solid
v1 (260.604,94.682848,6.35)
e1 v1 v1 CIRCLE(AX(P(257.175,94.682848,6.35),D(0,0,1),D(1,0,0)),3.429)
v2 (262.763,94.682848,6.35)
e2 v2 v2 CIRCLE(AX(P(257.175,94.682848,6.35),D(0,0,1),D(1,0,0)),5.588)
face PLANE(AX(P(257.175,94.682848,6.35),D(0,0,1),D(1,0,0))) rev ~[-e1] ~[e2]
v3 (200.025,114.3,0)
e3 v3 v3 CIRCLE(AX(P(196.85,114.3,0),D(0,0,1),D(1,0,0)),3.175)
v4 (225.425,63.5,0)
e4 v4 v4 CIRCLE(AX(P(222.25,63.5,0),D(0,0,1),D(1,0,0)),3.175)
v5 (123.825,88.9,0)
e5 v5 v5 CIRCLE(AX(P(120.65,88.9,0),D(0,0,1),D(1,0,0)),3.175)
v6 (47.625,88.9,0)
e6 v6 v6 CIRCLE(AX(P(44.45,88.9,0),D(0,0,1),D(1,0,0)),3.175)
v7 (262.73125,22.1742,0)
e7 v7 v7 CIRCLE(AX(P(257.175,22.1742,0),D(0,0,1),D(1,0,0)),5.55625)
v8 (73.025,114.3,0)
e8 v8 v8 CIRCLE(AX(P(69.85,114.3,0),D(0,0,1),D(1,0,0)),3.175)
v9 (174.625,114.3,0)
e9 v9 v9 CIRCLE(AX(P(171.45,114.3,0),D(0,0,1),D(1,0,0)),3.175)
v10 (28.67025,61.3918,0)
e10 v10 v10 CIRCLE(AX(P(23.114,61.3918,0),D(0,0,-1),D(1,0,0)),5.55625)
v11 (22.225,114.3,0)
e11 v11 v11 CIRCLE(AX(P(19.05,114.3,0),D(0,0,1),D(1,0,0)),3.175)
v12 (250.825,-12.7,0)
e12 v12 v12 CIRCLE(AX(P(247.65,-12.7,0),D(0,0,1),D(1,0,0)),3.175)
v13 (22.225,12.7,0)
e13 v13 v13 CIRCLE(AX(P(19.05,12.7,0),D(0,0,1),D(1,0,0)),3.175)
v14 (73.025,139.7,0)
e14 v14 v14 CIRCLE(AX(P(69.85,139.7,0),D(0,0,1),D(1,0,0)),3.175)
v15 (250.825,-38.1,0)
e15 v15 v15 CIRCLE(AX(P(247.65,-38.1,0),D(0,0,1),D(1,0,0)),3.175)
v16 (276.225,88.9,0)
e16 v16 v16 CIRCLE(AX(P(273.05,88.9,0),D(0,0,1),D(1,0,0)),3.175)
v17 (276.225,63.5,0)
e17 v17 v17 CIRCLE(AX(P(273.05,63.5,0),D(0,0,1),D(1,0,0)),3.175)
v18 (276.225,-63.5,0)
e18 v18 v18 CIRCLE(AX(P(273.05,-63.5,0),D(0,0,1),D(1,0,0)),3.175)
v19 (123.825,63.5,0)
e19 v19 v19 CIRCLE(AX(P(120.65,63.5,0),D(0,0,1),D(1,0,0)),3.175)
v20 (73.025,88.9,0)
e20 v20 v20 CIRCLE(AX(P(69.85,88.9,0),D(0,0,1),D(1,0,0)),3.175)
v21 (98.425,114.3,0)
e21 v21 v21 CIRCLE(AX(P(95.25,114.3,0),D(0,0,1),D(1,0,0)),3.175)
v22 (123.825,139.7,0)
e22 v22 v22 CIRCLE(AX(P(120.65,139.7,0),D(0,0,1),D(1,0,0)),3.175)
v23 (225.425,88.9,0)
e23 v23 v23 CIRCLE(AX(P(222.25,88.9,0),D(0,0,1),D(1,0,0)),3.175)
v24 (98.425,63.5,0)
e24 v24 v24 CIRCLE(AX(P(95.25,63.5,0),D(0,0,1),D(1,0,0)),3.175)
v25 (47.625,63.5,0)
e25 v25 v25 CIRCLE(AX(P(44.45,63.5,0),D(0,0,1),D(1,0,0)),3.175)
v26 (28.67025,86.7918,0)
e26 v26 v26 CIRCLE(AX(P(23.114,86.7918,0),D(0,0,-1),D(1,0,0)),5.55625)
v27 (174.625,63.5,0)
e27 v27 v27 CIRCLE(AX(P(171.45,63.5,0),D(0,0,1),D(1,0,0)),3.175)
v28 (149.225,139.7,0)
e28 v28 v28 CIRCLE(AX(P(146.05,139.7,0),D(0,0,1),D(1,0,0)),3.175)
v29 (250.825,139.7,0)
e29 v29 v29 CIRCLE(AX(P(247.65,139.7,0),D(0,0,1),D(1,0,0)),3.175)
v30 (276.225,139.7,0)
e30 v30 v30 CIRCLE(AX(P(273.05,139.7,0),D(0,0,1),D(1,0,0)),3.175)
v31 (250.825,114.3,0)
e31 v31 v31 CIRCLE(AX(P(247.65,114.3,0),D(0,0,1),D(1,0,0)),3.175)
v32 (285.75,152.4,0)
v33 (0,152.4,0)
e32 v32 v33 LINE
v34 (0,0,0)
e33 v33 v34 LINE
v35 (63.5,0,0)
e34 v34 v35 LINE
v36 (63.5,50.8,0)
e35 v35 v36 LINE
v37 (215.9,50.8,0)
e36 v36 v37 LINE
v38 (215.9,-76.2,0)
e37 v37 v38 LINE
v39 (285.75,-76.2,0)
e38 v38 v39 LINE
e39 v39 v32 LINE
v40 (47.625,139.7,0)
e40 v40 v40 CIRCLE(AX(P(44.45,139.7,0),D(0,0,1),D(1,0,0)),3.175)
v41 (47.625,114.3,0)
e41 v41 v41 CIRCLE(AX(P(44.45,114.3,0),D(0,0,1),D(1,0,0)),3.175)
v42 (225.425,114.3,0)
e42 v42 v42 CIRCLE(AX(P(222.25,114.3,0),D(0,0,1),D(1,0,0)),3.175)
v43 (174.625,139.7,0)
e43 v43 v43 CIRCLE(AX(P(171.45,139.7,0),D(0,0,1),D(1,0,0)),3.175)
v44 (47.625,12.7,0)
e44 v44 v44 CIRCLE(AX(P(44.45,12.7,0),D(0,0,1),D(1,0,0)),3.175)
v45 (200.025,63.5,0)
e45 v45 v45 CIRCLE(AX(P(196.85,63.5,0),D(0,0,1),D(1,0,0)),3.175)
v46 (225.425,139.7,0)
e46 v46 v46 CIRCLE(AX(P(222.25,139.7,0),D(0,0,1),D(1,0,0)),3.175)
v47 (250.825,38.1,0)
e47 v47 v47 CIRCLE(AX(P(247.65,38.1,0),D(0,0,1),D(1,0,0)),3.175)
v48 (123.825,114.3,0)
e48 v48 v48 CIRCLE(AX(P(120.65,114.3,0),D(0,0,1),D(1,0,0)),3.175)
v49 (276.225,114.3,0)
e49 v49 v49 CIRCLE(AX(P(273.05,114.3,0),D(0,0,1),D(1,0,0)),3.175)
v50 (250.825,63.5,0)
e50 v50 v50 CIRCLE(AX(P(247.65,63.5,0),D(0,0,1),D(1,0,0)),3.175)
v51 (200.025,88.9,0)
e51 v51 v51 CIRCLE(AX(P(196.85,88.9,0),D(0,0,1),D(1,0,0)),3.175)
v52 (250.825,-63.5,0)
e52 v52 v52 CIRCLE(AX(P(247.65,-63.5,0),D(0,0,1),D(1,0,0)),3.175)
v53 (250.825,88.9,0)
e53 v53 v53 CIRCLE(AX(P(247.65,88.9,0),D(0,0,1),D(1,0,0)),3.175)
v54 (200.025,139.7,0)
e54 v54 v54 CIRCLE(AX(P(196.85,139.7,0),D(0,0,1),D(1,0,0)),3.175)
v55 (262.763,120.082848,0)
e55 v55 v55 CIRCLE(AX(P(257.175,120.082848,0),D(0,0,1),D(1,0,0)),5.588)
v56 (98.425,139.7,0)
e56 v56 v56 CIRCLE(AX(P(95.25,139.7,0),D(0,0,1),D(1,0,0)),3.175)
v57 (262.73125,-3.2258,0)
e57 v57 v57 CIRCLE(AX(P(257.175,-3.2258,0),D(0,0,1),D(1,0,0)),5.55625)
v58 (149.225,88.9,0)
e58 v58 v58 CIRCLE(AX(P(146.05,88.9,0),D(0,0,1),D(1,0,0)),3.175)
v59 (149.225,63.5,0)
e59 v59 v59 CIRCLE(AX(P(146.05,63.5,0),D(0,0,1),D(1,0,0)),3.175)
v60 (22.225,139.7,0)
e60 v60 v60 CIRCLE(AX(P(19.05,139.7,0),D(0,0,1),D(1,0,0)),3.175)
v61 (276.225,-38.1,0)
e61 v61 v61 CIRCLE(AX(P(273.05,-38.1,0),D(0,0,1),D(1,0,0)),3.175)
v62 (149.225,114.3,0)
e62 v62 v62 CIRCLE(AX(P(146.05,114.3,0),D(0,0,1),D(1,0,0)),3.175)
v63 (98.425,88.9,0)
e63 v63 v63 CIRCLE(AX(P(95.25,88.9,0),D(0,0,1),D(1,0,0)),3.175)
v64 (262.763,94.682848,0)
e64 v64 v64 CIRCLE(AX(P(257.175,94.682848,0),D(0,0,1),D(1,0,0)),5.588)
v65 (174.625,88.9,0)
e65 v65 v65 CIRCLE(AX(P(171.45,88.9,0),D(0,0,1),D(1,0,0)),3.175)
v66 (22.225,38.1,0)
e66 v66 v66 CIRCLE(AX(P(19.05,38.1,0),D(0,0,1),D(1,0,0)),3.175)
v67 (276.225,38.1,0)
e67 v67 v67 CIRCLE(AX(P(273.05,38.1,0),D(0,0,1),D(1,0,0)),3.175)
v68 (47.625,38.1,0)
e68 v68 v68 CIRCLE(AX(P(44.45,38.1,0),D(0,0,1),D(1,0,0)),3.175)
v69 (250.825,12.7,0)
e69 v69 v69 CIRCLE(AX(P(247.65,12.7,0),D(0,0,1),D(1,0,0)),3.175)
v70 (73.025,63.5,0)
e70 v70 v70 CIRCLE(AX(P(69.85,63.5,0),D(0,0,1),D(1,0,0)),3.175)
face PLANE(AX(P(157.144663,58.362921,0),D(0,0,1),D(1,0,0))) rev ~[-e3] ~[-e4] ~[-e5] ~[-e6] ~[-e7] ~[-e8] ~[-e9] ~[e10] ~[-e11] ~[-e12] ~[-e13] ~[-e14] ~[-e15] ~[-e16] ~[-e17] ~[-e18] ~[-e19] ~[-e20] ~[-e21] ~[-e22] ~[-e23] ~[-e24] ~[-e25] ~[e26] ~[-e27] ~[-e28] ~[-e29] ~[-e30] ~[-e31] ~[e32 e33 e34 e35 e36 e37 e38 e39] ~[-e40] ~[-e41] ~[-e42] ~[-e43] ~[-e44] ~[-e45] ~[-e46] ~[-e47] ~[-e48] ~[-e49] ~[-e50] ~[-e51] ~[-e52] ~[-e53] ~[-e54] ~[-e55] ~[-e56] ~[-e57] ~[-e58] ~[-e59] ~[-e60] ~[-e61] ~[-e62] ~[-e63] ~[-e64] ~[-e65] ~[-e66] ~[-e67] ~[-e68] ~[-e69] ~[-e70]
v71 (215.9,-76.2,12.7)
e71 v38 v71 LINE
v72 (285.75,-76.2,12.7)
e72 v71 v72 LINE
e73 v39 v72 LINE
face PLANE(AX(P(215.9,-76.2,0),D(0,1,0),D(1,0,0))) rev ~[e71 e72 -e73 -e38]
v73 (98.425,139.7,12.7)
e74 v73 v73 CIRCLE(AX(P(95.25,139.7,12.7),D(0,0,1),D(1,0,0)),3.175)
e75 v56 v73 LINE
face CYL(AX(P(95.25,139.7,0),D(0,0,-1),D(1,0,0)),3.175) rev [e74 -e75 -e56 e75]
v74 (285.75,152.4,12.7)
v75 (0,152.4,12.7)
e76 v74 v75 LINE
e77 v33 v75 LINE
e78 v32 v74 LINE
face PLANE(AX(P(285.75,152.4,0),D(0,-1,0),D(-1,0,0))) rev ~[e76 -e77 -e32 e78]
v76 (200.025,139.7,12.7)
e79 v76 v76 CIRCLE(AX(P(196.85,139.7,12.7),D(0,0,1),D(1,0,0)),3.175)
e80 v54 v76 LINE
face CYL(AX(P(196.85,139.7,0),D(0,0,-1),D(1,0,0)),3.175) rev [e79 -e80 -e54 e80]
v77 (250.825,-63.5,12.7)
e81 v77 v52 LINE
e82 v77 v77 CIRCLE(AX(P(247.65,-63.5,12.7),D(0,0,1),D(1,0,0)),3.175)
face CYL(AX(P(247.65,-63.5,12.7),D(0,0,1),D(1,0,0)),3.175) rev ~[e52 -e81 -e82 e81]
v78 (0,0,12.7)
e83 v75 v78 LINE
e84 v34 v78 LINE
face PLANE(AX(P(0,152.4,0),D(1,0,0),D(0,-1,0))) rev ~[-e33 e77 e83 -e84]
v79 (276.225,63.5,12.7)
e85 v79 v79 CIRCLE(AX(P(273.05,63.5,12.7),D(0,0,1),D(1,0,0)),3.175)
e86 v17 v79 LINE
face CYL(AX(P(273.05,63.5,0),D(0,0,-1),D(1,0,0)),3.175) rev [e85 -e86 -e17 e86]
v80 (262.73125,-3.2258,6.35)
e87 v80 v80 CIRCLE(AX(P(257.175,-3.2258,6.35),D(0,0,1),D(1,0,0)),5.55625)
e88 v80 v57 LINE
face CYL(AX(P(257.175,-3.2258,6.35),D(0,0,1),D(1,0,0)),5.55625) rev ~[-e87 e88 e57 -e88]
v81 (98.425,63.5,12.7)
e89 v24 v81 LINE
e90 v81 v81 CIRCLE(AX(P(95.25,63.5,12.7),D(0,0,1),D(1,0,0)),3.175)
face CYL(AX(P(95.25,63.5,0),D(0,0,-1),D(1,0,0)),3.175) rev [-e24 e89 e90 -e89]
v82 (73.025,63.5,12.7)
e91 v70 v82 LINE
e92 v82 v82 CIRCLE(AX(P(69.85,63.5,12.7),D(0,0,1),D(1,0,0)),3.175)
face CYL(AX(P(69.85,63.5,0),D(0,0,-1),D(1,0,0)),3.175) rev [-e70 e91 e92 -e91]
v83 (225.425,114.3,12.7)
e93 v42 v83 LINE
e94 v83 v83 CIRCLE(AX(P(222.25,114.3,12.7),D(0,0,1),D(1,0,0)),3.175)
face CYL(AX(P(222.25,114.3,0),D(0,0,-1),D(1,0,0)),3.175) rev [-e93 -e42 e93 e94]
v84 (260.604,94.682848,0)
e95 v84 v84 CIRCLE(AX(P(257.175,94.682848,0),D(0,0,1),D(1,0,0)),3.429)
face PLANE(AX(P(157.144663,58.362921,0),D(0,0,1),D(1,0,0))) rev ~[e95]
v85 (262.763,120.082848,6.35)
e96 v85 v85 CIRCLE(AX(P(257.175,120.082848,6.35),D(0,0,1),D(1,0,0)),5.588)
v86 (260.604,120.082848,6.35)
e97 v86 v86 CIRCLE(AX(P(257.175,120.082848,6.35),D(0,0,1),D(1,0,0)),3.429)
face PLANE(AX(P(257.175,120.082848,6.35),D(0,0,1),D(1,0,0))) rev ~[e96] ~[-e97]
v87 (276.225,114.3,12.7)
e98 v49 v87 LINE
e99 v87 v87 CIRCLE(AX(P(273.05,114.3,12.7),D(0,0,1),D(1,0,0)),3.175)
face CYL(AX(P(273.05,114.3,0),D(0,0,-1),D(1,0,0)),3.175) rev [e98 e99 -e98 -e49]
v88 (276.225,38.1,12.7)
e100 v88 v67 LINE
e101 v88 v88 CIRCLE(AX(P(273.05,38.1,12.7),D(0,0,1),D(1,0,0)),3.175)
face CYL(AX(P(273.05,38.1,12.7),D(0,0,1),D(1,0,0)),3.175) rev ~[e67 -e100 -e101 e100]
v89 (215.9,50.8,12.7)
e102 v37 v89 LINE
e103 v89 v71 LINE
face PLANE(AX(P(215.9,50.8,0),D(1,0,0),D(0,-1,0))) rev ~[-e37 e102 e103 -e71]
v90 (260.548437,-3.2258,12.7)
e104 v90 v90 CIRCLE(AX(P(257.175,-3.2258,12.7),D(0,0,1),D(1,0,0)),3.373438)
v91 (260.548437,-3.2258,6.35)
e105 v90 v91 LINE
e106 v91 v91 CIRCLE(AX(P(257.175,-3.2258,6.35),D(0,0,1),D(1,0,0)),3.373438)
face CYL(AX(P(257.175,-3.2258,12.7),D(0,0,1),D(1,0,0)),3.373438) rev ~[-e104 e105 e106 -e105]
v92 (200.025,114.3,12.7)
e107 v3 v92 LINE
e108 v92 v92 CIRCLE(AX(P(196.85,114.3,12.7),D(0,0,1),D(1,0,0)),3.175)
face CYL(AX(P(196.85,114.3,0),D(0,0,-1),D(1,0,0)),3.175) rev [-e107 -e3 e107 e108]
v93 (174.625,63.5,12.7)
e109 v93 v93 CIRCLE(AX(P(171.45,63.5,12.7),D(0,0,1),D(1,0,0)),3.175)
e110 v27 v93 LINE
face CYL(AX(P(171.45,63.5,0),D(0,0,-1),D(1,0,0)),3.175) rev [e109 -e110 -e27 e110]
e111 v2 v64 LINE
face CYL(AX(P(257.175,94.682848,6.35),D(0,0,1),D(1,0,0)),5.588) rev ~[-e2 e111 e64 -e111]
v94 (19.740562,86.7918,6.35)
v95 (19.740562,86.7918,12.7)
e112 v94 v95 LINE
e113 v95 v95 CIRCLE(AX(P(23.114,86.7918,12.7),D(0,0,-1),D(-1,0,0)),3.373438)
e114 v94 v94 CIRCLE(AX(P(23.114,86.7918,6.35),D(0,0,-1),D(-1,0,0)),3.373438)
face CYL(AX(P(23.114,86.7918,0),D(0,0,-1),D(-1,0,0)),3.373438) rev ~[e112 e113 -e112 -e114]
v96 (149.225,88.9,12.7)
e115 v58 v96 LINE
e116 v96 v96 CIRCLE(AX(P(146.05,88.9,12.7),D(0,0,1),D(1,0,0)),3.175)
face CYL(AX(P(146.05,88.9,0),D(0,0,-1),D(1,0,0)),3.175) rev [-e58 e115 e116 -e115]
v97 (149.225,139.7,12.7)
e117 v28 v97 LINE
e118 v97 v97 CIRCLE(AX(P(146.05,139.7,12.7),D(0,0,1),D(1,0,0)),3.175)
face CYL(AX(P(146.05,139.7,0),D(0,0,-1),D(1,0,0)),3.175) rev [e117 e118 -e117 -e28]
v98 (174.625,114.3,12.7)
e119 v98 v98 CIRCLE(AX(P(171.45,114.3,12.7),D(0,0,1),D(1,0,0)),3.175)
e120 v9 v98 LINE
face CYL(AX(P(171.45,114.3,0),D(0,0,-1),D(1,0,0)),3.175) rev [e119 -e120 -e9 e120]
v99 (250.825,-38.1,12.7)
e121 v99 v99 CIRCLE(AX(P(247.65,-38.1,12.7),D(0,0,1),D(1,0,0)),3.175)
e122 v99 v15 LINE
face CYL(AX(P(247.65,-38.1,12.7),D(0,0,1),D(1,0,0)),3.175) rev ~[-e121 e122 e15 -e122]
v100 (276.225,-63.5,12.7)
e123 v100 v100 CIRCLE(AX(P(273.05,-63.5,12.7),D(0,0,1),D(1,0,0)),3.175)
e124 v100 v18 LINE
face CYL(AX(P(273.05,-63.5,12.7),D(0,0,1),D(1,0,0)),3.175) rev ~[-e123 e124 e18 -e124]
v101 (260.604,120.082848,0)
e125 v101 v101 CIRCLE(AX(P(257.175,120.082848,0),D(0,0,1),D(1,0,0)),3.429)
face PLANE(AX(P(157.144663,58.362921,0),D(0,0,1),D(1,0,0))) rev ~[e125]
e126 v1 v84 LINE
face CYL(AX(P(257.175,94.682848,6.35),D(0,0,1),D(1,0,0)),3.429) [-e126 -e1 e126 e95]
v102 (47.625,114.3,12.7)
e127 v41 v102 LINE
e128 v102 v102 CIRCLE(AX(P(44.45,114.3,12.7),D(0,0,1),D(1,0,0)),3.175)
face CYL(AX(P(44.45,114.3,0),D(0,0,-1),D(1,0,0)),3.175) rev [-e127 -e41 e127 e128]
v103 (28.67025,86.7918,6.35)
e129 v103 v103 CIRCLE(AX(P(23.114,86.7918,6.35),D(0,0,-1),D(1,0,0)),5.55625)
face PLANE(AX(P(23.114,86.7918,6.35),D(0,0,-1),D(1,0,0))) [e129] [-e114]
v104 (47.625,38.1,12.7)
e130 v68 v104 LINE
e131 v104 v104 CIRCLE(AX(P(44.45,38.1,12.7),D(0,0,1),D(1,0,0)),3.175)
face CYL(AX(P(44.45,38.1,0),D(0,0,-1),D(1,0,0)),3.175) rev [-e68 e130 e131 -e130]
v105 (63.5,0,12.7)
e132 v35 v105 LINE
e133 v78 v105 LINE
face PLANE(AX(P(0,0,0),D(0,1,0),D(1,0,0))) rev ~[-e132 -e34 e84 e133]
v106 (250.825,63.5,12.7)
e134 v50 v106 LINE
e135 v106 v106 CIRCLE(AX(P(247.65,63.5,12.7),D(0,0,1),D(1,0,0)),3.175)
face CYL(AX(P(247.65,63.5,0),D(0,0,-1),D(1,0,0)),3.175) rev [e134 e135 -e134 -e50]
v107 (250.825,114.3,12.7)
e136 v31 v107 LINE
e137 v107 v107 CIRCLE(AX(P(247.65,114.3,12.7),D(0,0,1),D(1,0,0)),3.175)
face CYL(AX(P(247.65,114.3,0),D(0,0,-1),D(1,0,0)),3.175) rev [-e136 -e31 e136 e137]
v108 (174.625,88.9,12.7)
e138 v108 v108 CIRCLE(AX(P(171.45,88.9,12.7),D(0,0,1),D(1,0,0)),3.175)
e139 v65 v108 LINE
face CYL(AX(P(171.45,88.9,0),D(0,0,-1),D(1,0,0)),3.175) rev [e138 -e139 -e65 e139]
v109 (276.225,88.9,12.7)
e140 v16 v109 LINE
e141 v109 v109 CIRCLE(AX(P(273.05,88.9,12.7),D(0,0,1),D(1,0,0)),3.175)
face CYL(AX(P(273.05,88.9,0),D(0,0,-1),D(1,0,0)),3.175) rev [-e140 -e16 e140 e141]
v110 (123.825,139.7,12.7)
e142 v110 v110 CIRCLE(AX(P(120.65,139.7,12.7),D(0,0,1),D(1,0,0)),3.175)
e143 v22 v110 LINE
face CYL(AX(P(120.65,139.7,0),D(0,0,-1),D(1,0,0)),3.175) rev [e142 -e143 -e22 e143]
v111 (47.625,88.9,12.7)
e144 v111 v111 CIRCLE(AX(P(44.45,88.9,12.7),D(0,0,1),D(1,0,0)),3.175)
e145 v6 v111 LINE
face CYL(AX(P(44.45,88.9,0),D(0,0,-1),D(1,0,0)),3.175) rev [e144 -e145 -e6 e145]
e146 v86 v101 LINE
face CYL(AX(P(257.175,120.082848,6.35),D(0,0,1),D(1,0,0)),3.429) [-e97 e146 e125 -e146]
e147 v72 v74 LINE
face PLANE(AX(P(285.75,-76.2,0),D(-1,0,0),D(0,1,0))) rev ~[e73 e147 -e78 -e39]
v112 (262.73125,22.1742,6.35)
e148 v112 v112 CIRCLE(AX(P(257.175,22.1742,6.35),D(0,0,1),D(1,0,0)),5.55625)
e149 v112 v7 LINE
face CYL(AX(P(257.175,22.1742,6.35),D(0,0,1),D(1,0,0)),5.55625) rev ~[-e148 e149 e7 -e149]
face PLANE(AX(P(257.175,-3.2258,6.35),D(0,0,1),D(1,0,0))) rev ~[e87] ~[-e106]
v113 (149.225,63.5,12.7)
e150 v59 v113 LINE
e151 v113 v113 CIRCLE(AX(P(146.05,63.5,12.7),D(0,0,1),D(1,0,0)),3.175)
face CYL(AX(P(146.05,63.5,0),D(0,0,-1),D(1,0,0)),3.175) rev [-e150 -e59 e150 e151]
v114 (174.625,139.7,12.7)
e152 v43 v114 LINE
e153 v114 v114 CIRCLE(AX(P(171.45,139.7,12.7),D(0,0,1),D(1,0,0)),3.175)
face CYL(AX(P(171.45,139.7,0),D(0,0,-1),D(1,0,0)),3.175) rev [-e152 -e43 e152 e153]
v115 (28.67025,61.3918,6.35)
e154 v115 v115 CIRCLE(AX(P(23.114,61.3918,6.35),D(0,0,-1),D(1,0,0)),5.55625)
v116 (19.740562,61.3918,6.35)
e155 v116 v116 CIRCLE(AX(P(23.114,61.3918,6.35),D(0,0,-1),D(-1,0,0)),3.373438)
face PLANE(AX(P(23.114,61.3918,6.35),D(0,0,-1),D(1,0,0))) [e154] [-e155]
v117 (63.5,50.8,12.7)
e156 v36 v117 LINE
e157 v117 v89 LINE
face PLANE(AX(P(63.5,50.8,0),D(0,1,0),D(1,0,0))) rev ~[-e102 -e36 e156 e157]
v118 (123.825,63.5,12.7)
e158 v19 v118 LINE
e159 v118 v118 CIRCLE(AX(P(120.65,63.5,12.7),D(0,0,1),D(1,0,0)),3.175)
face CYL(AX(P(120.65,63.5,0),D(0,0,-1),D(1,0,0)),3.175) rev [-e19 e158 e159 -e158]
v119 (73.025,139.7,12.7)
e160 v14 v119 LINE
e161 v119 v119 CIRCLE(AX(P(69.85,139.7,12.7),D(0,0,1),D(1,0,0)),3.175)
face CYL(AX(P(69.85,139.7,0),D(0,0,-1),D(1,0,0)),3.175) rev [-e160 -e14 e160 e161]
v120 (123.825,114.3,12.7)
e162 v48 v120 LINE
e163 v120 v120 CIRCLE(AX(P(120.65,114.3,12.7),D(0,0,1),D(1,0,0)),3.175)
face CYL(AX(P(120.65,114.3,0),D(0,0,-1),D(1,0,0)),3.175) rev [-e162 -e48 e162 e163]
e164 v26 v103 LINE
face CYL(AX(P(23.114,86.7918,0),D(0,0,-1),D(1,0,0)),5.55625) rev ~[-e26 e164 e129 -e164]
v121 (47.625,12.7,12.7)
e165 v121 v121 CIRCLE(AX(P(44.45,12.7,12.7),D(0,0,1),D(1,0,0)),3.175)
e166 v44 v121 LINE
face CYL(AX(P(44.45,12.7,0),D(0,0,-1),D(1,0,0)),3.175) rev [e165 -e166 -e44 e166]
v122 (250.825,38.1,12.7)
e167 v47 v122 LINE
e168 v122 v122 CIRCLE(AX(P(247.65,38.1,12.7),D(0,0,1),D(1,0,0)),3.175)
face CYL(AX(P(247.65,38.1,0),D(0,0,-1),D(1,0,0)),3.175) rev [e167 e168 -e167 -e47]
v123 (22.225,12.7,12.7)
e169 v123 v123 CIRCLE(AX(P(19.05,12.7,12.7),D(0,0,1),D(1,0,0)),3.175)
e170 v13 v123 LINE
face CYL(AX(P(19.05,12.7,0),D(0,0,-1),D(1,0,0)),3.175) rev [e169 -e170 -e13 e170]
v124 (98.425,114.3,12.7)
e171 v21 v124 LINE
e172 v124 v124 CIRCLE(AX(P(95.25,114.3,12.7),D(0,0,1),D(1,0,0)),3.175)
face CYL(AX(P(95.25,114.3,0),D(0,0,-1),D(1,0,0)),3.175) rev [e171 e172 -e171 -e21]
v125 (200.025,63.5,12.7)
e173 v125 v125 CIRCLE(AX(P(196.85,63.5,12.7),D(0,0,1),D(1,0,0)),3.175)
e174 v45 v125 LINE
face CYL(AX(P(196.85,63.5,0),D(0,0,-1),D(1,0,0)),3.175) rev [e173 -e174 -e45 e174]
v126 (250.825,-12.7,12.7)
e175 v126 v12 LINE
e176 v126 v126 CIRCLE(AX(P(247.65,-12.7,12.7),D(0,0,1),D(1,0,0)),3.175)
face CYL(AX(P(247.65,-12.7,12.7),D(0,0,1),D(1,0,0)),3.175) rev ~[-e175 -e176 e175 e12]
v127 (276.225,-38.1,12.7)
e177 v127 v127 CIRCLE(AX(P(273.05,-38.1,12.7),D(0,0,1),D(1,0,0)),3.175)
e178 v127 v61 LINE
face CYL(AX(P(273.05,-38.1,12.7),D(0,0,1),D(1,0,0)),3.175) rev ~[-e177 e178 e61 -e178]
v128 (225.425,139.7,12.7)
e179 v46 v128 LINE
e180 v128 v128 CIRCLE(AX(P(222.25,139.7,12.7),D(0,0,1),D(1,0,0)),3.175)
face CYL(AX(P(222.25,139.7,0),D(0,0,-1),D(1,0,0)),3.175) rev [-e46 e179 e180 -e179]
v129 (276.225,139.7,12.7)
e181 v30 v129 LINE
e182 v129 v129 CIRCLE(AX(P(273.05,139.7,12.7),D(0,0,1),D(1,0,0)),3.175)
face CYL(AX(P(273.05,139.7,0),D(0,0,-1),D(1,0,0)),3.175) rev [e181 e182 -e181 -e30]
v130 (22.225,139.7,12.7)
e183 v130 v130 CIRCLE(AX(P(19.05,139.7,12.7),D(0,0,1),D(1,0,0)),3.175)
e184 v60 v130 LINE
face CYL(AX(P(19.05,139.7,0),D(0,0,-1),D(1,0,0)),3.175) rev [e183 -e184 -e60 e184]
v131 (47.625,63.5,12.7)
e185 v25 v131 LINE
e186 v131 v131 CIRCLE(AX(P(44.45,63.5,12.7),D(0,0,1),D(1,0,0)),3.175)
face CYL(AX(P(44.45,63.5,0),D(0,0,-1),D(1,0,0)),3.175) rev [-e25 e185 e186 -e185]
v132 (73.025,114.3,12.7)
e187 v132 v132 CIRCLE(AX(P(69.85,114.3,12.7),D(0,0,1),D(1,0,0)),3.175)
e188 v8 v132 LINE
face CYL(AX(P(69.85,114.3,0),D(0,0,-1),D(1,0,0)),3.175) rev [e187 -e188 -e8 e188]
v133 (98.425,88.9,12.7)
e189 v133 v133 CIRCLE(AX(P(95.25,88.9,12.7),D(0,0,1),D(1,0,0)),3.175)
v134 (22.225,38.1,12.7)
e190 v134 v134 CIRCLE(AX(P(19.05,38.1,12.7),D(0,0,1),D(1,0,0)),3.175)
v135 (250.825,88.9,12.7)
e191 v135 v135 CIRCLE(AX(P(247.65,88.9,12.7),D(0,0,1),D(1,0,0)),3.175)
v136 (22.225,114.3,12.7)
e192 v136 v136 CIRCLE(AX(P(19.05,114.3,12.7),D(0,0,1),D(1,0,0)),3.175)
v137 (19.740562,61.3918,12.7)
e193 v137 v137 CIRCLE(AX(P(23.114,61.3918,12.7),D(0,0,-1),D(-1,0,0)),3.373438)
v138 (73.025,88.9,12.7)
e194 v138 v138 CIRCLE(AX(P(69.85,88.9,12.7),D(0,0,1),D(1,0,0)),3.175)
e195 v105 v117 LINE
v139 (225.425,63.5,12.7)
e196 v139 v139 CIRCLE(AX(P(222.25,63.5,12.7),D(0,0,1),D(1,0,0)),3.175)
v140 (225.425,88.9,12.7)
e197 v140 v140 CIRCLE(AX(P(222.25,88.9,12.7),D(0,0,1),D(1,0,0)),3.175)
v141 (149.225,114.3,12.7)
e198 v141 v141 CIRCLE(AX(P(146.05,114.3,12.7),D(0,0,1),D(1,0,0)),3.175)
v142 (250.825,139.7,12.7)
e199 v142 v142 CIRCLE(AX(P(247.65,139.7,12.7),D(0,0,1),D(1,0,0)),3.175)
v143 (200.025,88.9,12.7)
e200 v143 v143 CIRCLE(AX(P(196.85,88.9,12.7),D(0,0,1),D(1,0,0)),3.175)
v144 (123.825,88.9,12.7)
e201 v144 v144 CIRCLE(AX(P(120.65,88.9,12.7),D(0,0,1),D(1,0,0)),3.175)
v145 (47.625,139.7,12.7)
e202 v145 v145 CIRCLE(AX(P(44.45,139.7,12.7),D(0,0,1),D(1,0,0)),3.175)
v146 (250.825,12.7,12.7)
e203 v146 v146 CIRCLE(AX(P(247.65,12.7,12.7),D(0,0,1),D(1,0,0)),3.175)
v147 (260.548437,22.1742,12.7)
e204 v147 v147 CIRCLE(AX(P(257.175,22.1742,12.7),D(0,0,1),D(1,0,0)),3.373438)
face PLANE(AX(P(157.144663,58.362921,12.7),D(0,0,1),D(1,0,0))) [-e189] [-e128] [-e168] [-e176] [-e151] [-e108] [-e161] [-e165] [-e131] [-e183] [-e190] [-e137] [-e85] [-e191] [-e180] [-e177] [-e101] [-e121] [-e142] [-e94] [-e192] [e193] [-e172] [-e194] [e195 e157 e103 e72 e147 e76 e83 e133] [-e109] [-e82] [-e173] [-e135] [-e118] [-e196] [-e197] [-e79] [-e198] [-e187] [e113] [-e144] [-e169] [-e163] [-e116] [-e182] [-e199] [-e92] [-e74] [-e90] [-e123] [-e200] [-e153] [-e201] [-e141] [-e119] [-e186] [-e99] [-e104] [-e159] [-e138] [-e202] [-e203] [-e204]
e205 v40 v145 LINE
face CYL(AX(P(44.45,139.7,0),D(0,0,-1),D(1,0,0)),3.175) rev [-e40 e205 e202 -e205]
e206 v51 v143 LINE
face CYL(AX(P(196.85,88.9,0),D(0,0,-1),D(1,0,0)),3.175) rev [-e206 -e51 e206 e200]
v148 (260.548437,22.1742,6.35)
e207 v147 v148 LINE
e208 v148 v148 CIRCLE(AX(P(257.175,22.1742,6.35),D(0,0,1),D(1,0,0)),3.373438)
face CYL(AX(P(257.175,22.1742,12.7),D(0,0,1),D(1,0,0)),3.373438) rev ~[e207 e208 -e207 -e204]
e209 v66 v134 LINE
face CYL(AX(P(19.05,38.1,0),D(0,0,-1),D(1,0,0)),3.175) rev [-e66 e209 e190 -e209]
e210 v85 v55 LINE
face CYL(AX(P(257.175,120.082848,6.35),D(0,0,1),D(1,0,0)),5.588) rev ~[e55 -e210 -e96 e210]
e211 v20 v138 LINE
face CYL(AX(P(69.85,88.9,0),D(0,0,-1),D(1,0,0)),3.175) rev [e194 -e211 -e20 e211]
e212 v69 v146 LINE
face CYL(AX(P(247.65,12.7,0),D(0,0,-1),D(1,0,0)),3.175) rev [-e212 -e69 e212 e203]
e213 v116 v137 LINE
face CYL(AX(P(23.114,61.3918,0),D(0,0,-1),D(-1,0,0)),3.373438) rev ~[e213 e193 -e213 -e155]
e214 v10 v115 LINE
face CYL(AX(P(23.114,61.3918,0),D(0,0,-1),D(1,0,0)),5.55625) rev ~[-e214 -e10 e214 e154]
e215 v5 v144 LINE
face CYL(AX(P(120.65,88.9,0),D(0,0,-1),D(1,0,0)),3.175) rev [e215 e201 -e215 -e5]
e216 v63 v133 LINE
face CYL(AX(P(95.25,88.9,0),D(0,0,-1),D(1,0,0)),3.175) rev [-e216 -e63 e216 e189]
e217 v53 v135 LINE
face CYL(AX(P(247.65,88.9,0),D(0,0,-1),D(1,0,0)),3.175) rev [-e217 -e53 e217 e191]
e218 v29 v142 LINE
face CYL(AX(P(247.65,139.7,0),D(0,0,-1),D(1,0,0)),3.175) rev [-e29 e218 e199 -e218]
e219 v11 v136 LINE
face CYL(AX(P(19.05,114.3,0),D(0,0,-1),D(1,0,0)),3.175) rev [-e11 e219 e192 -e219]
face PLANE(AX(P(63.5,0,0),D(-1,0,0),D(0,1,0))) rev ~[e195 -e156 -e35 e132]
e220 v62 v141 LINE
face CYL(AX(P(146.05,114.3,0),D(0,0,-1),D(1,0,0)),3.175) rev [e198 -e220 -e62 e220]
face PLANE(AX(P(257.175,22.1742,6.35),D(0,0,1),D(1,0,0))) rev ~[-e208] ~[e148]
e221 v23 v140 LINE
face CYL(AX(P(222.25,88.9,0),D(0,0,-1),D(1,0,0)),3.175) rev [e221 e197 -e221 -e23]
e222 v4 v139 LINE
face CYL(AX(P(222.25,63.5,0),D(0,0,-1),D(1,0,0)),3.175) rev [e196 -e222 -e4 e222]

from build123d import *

# Parameters (mm, degrees)
SKETCH1_R           = 3.175
BOSS_EXTRUDE1_DEPTH = 12.7
SKETCH2_R           = 3.175
CUT_EXTRUDE1_DEPTH  = 12.7
SKETCH3_R           = 3.3734375
CUT_EXTRUDE2_DEPTH  = 12.7
CUT_EXTRUDE3_START  = -6.35
SKETCH3_3_R         = 5.55625
SKETCH3_3_R_2       = 3.3734375
SKETCH3_3_R_3       = 5.588
SKETCH3_3_R_4       = 3.429
CUT_EXTRUDE3_DEPTH  = 6.35
SKETCH5_R           = 3.3734375
CUT_EXTRUDE4_DEPTH  = 12.7
SKETCH5_3_R         = 5.55625
SKETCH5_3_R_2       = 3.3734375
CUT_EXTRUDE5_DEPTH  = 6.35


with BuildPart() as part:
    # Sketch1 → Boss-Extrude1 (new body)
    with BuildSketch(Plane.XY):
        Polygon((0, 152.4), (0, 0), (63.5, 0), (63.5, 50.8), (215.9, 50.8), (215.9, -76.2), (285.75, -76.2), (285.75, 152.4), align=None)
        with Locations((19.05, 12.7)):
            Circle(SKETCH1_R, mode=Mode.SUBTRACT)
        with Locations((19.05, 38.1)):
            Circle(SKETCH1_R, mode=Mode.SUBTRACT)
        with Locations((44.45, 12.7)):
            Circle(SKETCH1_R, mode=Mode.SUBTRACT)
        with Locations((44.45, 38.1)):
            Circle(SKETCH1_R, mode=Mode.SUBTRACT)
        with Locations((247.65, 12.7)):
            Circle(SKETCH1_R, mode=Mode.SUBTRACT)
        with Locations((247.65, 38.1)):
            Circle(SKETCH1_R, mode=Mode.SUBTRACT)
        with Locations((44.45, 63.5)):
            Circle(SKETCH1_R, mode=Mode.SUBTRACT)
        with Locations((69.85, 63.5)):
            Circle(SKETCH1_R, mode=Mode.SUBTRACT)
        with Locations((44.45, 88.9)):
            Circle(SKETCH1_R, mode=Mode.SUBTRACT)
        with Locations((69.85, 88.9)):
            Circle(SKETCH1_R, mode=Mode.SUBTRACT)
        with Locations((95.25, 63.5)):
            Circle(SKETCH1_R, mode=Mode.SUBTRACT)
        with Locations((120.65, 63.5)):
            Circle(SKETCH1_R, mode=Mode.SUBTRACT)
        with Locations((95.25, 88.9)):
            Circle(SKETCH1_R, mode=Mode.SUBTRACT)
        with Locations((120.65, 88.9)):
            Circle(SKETCH1_R, mode=Mode.SUBTRACT)
        with Locations((19.05, 114.3)):
            Circle(SKETCH1_R, mode=Mode.SUBTRACT)
        with Locations((44.45, 114.3)):
            Circle(SKETCH1_R, mode=Mode.SUBTRACT)
        with Locations((69.85, 114.3)):
            Circle(SKETCH1_R, mode=Mode.SUBTRACT)
        with Locations((19.05, 139.7)):
            Circle(SKETCH1_R, mode=Mode.SUBTRACT)
        with Locations((44.45, 139.7)):
            Circle(SKETCH1_R, mode=Mode.SUBTRACT)
        with Locations((69.85, 139.7)):
            Circle(SKETCH1_R, mode=Mode.SUBTRACT)
        with Locations((95.25, 114.3)):
            Circle(SKETCH1_R, mode=Mode.SUBTRACT)
        with Locations((120.65, 114.3)):
            Circle(SKETCH1_R, mode=Mode.SUBTRACT)
        with Locations((95.25, 139.7)):
            Circle(SKETCH1_R, mode=Mode.SUBTRACT)
        with Locations((120.65, 139.7)):
            Circle(SKETCH1_R, mode=Mode.SUBTRACT)
        with Locations((146.05, 63.5)):
            Circle(SKETCH1_R, mode=Mode.SUBTRACT)
        with Locations((171.45, 63.5)):
            Circle(SKETCH1_R, mode=Mode.SUBTRACT)
        with Locations((196.85, 63.5)):
            Circle(SKETCH1_R, mode=Mode.SUBTRACT)
        with Locations((146.05, 88.9)):
            Circle(SKETCH1_R, mode=Mode.SUBTRACT)
        with Locations((171.45, 88.9)):
            Circle(SKETCH1_R, mode=Mode.SUBTRACT)
        with Locations((196.85, 88.9)):
            Circle(SKETCH1_R, mode=Mode.SUBTRACT)
        with Locations((222.25, 63.5)):
            Circle(SKETCH1_R, mode=Mode.SUBTRACT)
        with Locations((247.65, 63.5)):
            Circle(SKETCH1_R, mode=Mode.SUBTRACT)
        with Locations((273.05, 63.5)):
            Circle(SKETCH1_R, mode=Mode.SUBTRACT)
        with Locations((222.25, 88.9)):
            Circle(SKETCH1_R, mode=Mode.SUBTRACT)
        with Locations((247.65, 88.9)):
            Circle(SKETCH1_R, mode=Mode.SUBTRACT)
        with Locations((273.05, 88.9)):
            Circle(SKETCH1_R, mode=Mode.SUBTRACT)
        with Locations((146.05, 114.3)):
            Circle(SKETCH1_R, mode=Mode.SUBTRACT)
        with Locations((171.45, 114.3)):
            Circle(SKETCH1_R, mode=Mode.SUBTRACT)
        with Locations((196.85, 114.3)):
            Circle(SKETCH1_R, mode=Mode.SUBTRACT)
        with Locations((146.05, 139.7)):
            Circle(SKETCH1_R, mode=Mode.SUBTRACT)
        with Locations((171.45, 139.7)):
            Circle(SKETCH1_R, mode=Mode.SUBTRACT)
        with Locations((196.85, 139.7)):
            Circle(SKETCH1_R, mode=Mode.SUBTRACT)
        with Locations((222.25, 114.3)):
            Circle(SKETCH1_R, mode=Mode.SUBTRACT)
        with Locations((247.65, 114.3)):
            Circle(SKETCH1_R, mode=Mode.SUBTRACT)
        with Locations((273.05, 114.3)):
            Circle(SKETCH1_R, mode=Mode.SUBTRACT)
        with Locations((222.25, 139.7)):
            Circle(SKETCH1_R, mode=Mode.SUBTRACT)
        with Locations((247.65, 139.7)):
            Circle(SKETCH1_R, mode=Mode.SUBTRACT)
        with Locations((273.05, 139.7)):
            Circle(SKETCH1_R, mode=Mode.SUBTRACT)
    extrude(amount=BOSS_EXTRUDE1_DEPTH)

    # Sketch2 → Cut-Extrude1 (cut)
    with BuildSketch(Plane.XY.offset(12.7)):
        with Locations((247.65, -12.7)):
            Circle(SKETCH2_R)
        with Locations((247.65, -38.1)):
            Circle(SKETCH2_R)
        with Locations((247.65, -63.5)):
            Circle(SKETCH2_R)
        with Locations((273.05, -38.1)):
            Circle(SKETCH2_R)
        with Locations((273.05, -63.5)):
            Circle(SKETCH2_R)
        with Locations((273.05, 38.1)):
            Circle(SKETCH2_R)
    extrude(amount=-CUT_EXTRUDE1_DEPTH, mode=Mode.SUBTRACT)

    # Sketch3 → Cut-Extrude2 (cut)
    with BuildSketch(Plane.XY.offset(12.7)):
        with Locations((257.175, -3.2258)):
            Circle(SKETCH3_R)
        with Locations((257.175, 22.1742)):
            Circle(SKETCH3_R)
    extrude(amount=-CUT_EXTRUDE2_DEPTH, mode=Mode.SUBTRACT)

    # Sketch3<3> → Cut-Extrude3 (cut)
    # profile 1 of 4: a face of its own
    with BuildSketch(Plane.XY.offset(12.7).offset(CUT_EXTRUDE3_START)):
        with Locations((257.175, -3.2258)):
            Circle(SKETCH3_3_R)
        with Locations((257.175, -3.2258)):
            Circle(SKETCH3_3_R_2, mode=Mode.SUBTRACT)
    # profile 2 of 4: a face of its own
    with BuildSketch(Plane.XY.offset(12.7).offset(CUT_EXTRUDE3_START)):
        with Locations((257.175, 22.1742)):
            Circle(SKETCH3_3_R)
        with Locations((257.175, 22.1742)):
            Circle(SKETCH3_3_R_2, mode=Mode.SUBTRACT)
    # profile 3 of 4: a face of its own
    with BuildSketch(Plane.XY.offset(12.7).offset(CUT_EXTRUDE3_START)):
        with Locations((257.175, 120.082847609)):
            Circle(SKETCH3_3_R_3)
        with Locations((257.175, 120.082847609)):
            Circle(SKETCH3_3_R_4, mode=Mode.SUBTRACT)
    # profile 4 of 4: a face of its own
    with BuildSketch(Plane.XY.offset(12.7).offset(CUT_EXTRUDE3_START)):
        with Locations((257.175, 94.682847609)):
            Circle(SKETCH3_3_R_3)
        with Locations((257.175, 94.682847609)):
            Circle(SKETCH3_3_R_4, mode=Mode.SUBTRACT)
    extrude(amount=-CUT_EXTRUDE3_DEPTH, mode=Mode.SUBTRACT)

    # Sketch5 → Cut-Extrude4 (cut)
    with BuildSketch(Plane(origin=(0, 0, 0), x_dir=(-1, 0, 0), z_dir=(0, 0, -1))):
        with Locations((-23.114, 61.3918)):
            Circle(SKETCH5_R)
        with Locations((-23.114, 86.7918)):
            Circle(SKETCH5_R)
    extrude(amount=-CUT_EXTRUDE4_DEPTH, mode=Mode.SUBTRACT)

    # Sketch5<3> → Cut-Extrude5 (cut)
    # profile 1 of 2: a face of its own
    with BuildSketch(Plane(origin=(0, 0, 0), x_dir=(-1, 0, 0), z_dir=(0, 0, -1))):
        with Locations(Location((-23.114, 61.3918, 0), (0, 0, 180))):
            Circle(SKETCH5_3_R)
        with Locations((-23.114, 61.3918)):
            Circle(SKETCH5_3_R_2, mode=Mode.SUBTRACT)
    # profile 2 of 2: a face of its own
    with BuildSketch(Plane(origin=(0, 0, 0), x_dir=(-1, 0, 0), z_dir=(0, 0, -1))):
        with Locations(Location((-23.114, 86.7918, 0), (0, 0, 180))):
            Circle(SKETCH5_3_R)
        with Locations((-23.114, 86.7918)):
            Circle(SKETCH5_3_R_2, mode=Mode.SUBTRACT)
    extrude(amount=-CUT_EXTRUDE5_DEPTH, mode=Mode.SUBTRACT)


solid = part.part
